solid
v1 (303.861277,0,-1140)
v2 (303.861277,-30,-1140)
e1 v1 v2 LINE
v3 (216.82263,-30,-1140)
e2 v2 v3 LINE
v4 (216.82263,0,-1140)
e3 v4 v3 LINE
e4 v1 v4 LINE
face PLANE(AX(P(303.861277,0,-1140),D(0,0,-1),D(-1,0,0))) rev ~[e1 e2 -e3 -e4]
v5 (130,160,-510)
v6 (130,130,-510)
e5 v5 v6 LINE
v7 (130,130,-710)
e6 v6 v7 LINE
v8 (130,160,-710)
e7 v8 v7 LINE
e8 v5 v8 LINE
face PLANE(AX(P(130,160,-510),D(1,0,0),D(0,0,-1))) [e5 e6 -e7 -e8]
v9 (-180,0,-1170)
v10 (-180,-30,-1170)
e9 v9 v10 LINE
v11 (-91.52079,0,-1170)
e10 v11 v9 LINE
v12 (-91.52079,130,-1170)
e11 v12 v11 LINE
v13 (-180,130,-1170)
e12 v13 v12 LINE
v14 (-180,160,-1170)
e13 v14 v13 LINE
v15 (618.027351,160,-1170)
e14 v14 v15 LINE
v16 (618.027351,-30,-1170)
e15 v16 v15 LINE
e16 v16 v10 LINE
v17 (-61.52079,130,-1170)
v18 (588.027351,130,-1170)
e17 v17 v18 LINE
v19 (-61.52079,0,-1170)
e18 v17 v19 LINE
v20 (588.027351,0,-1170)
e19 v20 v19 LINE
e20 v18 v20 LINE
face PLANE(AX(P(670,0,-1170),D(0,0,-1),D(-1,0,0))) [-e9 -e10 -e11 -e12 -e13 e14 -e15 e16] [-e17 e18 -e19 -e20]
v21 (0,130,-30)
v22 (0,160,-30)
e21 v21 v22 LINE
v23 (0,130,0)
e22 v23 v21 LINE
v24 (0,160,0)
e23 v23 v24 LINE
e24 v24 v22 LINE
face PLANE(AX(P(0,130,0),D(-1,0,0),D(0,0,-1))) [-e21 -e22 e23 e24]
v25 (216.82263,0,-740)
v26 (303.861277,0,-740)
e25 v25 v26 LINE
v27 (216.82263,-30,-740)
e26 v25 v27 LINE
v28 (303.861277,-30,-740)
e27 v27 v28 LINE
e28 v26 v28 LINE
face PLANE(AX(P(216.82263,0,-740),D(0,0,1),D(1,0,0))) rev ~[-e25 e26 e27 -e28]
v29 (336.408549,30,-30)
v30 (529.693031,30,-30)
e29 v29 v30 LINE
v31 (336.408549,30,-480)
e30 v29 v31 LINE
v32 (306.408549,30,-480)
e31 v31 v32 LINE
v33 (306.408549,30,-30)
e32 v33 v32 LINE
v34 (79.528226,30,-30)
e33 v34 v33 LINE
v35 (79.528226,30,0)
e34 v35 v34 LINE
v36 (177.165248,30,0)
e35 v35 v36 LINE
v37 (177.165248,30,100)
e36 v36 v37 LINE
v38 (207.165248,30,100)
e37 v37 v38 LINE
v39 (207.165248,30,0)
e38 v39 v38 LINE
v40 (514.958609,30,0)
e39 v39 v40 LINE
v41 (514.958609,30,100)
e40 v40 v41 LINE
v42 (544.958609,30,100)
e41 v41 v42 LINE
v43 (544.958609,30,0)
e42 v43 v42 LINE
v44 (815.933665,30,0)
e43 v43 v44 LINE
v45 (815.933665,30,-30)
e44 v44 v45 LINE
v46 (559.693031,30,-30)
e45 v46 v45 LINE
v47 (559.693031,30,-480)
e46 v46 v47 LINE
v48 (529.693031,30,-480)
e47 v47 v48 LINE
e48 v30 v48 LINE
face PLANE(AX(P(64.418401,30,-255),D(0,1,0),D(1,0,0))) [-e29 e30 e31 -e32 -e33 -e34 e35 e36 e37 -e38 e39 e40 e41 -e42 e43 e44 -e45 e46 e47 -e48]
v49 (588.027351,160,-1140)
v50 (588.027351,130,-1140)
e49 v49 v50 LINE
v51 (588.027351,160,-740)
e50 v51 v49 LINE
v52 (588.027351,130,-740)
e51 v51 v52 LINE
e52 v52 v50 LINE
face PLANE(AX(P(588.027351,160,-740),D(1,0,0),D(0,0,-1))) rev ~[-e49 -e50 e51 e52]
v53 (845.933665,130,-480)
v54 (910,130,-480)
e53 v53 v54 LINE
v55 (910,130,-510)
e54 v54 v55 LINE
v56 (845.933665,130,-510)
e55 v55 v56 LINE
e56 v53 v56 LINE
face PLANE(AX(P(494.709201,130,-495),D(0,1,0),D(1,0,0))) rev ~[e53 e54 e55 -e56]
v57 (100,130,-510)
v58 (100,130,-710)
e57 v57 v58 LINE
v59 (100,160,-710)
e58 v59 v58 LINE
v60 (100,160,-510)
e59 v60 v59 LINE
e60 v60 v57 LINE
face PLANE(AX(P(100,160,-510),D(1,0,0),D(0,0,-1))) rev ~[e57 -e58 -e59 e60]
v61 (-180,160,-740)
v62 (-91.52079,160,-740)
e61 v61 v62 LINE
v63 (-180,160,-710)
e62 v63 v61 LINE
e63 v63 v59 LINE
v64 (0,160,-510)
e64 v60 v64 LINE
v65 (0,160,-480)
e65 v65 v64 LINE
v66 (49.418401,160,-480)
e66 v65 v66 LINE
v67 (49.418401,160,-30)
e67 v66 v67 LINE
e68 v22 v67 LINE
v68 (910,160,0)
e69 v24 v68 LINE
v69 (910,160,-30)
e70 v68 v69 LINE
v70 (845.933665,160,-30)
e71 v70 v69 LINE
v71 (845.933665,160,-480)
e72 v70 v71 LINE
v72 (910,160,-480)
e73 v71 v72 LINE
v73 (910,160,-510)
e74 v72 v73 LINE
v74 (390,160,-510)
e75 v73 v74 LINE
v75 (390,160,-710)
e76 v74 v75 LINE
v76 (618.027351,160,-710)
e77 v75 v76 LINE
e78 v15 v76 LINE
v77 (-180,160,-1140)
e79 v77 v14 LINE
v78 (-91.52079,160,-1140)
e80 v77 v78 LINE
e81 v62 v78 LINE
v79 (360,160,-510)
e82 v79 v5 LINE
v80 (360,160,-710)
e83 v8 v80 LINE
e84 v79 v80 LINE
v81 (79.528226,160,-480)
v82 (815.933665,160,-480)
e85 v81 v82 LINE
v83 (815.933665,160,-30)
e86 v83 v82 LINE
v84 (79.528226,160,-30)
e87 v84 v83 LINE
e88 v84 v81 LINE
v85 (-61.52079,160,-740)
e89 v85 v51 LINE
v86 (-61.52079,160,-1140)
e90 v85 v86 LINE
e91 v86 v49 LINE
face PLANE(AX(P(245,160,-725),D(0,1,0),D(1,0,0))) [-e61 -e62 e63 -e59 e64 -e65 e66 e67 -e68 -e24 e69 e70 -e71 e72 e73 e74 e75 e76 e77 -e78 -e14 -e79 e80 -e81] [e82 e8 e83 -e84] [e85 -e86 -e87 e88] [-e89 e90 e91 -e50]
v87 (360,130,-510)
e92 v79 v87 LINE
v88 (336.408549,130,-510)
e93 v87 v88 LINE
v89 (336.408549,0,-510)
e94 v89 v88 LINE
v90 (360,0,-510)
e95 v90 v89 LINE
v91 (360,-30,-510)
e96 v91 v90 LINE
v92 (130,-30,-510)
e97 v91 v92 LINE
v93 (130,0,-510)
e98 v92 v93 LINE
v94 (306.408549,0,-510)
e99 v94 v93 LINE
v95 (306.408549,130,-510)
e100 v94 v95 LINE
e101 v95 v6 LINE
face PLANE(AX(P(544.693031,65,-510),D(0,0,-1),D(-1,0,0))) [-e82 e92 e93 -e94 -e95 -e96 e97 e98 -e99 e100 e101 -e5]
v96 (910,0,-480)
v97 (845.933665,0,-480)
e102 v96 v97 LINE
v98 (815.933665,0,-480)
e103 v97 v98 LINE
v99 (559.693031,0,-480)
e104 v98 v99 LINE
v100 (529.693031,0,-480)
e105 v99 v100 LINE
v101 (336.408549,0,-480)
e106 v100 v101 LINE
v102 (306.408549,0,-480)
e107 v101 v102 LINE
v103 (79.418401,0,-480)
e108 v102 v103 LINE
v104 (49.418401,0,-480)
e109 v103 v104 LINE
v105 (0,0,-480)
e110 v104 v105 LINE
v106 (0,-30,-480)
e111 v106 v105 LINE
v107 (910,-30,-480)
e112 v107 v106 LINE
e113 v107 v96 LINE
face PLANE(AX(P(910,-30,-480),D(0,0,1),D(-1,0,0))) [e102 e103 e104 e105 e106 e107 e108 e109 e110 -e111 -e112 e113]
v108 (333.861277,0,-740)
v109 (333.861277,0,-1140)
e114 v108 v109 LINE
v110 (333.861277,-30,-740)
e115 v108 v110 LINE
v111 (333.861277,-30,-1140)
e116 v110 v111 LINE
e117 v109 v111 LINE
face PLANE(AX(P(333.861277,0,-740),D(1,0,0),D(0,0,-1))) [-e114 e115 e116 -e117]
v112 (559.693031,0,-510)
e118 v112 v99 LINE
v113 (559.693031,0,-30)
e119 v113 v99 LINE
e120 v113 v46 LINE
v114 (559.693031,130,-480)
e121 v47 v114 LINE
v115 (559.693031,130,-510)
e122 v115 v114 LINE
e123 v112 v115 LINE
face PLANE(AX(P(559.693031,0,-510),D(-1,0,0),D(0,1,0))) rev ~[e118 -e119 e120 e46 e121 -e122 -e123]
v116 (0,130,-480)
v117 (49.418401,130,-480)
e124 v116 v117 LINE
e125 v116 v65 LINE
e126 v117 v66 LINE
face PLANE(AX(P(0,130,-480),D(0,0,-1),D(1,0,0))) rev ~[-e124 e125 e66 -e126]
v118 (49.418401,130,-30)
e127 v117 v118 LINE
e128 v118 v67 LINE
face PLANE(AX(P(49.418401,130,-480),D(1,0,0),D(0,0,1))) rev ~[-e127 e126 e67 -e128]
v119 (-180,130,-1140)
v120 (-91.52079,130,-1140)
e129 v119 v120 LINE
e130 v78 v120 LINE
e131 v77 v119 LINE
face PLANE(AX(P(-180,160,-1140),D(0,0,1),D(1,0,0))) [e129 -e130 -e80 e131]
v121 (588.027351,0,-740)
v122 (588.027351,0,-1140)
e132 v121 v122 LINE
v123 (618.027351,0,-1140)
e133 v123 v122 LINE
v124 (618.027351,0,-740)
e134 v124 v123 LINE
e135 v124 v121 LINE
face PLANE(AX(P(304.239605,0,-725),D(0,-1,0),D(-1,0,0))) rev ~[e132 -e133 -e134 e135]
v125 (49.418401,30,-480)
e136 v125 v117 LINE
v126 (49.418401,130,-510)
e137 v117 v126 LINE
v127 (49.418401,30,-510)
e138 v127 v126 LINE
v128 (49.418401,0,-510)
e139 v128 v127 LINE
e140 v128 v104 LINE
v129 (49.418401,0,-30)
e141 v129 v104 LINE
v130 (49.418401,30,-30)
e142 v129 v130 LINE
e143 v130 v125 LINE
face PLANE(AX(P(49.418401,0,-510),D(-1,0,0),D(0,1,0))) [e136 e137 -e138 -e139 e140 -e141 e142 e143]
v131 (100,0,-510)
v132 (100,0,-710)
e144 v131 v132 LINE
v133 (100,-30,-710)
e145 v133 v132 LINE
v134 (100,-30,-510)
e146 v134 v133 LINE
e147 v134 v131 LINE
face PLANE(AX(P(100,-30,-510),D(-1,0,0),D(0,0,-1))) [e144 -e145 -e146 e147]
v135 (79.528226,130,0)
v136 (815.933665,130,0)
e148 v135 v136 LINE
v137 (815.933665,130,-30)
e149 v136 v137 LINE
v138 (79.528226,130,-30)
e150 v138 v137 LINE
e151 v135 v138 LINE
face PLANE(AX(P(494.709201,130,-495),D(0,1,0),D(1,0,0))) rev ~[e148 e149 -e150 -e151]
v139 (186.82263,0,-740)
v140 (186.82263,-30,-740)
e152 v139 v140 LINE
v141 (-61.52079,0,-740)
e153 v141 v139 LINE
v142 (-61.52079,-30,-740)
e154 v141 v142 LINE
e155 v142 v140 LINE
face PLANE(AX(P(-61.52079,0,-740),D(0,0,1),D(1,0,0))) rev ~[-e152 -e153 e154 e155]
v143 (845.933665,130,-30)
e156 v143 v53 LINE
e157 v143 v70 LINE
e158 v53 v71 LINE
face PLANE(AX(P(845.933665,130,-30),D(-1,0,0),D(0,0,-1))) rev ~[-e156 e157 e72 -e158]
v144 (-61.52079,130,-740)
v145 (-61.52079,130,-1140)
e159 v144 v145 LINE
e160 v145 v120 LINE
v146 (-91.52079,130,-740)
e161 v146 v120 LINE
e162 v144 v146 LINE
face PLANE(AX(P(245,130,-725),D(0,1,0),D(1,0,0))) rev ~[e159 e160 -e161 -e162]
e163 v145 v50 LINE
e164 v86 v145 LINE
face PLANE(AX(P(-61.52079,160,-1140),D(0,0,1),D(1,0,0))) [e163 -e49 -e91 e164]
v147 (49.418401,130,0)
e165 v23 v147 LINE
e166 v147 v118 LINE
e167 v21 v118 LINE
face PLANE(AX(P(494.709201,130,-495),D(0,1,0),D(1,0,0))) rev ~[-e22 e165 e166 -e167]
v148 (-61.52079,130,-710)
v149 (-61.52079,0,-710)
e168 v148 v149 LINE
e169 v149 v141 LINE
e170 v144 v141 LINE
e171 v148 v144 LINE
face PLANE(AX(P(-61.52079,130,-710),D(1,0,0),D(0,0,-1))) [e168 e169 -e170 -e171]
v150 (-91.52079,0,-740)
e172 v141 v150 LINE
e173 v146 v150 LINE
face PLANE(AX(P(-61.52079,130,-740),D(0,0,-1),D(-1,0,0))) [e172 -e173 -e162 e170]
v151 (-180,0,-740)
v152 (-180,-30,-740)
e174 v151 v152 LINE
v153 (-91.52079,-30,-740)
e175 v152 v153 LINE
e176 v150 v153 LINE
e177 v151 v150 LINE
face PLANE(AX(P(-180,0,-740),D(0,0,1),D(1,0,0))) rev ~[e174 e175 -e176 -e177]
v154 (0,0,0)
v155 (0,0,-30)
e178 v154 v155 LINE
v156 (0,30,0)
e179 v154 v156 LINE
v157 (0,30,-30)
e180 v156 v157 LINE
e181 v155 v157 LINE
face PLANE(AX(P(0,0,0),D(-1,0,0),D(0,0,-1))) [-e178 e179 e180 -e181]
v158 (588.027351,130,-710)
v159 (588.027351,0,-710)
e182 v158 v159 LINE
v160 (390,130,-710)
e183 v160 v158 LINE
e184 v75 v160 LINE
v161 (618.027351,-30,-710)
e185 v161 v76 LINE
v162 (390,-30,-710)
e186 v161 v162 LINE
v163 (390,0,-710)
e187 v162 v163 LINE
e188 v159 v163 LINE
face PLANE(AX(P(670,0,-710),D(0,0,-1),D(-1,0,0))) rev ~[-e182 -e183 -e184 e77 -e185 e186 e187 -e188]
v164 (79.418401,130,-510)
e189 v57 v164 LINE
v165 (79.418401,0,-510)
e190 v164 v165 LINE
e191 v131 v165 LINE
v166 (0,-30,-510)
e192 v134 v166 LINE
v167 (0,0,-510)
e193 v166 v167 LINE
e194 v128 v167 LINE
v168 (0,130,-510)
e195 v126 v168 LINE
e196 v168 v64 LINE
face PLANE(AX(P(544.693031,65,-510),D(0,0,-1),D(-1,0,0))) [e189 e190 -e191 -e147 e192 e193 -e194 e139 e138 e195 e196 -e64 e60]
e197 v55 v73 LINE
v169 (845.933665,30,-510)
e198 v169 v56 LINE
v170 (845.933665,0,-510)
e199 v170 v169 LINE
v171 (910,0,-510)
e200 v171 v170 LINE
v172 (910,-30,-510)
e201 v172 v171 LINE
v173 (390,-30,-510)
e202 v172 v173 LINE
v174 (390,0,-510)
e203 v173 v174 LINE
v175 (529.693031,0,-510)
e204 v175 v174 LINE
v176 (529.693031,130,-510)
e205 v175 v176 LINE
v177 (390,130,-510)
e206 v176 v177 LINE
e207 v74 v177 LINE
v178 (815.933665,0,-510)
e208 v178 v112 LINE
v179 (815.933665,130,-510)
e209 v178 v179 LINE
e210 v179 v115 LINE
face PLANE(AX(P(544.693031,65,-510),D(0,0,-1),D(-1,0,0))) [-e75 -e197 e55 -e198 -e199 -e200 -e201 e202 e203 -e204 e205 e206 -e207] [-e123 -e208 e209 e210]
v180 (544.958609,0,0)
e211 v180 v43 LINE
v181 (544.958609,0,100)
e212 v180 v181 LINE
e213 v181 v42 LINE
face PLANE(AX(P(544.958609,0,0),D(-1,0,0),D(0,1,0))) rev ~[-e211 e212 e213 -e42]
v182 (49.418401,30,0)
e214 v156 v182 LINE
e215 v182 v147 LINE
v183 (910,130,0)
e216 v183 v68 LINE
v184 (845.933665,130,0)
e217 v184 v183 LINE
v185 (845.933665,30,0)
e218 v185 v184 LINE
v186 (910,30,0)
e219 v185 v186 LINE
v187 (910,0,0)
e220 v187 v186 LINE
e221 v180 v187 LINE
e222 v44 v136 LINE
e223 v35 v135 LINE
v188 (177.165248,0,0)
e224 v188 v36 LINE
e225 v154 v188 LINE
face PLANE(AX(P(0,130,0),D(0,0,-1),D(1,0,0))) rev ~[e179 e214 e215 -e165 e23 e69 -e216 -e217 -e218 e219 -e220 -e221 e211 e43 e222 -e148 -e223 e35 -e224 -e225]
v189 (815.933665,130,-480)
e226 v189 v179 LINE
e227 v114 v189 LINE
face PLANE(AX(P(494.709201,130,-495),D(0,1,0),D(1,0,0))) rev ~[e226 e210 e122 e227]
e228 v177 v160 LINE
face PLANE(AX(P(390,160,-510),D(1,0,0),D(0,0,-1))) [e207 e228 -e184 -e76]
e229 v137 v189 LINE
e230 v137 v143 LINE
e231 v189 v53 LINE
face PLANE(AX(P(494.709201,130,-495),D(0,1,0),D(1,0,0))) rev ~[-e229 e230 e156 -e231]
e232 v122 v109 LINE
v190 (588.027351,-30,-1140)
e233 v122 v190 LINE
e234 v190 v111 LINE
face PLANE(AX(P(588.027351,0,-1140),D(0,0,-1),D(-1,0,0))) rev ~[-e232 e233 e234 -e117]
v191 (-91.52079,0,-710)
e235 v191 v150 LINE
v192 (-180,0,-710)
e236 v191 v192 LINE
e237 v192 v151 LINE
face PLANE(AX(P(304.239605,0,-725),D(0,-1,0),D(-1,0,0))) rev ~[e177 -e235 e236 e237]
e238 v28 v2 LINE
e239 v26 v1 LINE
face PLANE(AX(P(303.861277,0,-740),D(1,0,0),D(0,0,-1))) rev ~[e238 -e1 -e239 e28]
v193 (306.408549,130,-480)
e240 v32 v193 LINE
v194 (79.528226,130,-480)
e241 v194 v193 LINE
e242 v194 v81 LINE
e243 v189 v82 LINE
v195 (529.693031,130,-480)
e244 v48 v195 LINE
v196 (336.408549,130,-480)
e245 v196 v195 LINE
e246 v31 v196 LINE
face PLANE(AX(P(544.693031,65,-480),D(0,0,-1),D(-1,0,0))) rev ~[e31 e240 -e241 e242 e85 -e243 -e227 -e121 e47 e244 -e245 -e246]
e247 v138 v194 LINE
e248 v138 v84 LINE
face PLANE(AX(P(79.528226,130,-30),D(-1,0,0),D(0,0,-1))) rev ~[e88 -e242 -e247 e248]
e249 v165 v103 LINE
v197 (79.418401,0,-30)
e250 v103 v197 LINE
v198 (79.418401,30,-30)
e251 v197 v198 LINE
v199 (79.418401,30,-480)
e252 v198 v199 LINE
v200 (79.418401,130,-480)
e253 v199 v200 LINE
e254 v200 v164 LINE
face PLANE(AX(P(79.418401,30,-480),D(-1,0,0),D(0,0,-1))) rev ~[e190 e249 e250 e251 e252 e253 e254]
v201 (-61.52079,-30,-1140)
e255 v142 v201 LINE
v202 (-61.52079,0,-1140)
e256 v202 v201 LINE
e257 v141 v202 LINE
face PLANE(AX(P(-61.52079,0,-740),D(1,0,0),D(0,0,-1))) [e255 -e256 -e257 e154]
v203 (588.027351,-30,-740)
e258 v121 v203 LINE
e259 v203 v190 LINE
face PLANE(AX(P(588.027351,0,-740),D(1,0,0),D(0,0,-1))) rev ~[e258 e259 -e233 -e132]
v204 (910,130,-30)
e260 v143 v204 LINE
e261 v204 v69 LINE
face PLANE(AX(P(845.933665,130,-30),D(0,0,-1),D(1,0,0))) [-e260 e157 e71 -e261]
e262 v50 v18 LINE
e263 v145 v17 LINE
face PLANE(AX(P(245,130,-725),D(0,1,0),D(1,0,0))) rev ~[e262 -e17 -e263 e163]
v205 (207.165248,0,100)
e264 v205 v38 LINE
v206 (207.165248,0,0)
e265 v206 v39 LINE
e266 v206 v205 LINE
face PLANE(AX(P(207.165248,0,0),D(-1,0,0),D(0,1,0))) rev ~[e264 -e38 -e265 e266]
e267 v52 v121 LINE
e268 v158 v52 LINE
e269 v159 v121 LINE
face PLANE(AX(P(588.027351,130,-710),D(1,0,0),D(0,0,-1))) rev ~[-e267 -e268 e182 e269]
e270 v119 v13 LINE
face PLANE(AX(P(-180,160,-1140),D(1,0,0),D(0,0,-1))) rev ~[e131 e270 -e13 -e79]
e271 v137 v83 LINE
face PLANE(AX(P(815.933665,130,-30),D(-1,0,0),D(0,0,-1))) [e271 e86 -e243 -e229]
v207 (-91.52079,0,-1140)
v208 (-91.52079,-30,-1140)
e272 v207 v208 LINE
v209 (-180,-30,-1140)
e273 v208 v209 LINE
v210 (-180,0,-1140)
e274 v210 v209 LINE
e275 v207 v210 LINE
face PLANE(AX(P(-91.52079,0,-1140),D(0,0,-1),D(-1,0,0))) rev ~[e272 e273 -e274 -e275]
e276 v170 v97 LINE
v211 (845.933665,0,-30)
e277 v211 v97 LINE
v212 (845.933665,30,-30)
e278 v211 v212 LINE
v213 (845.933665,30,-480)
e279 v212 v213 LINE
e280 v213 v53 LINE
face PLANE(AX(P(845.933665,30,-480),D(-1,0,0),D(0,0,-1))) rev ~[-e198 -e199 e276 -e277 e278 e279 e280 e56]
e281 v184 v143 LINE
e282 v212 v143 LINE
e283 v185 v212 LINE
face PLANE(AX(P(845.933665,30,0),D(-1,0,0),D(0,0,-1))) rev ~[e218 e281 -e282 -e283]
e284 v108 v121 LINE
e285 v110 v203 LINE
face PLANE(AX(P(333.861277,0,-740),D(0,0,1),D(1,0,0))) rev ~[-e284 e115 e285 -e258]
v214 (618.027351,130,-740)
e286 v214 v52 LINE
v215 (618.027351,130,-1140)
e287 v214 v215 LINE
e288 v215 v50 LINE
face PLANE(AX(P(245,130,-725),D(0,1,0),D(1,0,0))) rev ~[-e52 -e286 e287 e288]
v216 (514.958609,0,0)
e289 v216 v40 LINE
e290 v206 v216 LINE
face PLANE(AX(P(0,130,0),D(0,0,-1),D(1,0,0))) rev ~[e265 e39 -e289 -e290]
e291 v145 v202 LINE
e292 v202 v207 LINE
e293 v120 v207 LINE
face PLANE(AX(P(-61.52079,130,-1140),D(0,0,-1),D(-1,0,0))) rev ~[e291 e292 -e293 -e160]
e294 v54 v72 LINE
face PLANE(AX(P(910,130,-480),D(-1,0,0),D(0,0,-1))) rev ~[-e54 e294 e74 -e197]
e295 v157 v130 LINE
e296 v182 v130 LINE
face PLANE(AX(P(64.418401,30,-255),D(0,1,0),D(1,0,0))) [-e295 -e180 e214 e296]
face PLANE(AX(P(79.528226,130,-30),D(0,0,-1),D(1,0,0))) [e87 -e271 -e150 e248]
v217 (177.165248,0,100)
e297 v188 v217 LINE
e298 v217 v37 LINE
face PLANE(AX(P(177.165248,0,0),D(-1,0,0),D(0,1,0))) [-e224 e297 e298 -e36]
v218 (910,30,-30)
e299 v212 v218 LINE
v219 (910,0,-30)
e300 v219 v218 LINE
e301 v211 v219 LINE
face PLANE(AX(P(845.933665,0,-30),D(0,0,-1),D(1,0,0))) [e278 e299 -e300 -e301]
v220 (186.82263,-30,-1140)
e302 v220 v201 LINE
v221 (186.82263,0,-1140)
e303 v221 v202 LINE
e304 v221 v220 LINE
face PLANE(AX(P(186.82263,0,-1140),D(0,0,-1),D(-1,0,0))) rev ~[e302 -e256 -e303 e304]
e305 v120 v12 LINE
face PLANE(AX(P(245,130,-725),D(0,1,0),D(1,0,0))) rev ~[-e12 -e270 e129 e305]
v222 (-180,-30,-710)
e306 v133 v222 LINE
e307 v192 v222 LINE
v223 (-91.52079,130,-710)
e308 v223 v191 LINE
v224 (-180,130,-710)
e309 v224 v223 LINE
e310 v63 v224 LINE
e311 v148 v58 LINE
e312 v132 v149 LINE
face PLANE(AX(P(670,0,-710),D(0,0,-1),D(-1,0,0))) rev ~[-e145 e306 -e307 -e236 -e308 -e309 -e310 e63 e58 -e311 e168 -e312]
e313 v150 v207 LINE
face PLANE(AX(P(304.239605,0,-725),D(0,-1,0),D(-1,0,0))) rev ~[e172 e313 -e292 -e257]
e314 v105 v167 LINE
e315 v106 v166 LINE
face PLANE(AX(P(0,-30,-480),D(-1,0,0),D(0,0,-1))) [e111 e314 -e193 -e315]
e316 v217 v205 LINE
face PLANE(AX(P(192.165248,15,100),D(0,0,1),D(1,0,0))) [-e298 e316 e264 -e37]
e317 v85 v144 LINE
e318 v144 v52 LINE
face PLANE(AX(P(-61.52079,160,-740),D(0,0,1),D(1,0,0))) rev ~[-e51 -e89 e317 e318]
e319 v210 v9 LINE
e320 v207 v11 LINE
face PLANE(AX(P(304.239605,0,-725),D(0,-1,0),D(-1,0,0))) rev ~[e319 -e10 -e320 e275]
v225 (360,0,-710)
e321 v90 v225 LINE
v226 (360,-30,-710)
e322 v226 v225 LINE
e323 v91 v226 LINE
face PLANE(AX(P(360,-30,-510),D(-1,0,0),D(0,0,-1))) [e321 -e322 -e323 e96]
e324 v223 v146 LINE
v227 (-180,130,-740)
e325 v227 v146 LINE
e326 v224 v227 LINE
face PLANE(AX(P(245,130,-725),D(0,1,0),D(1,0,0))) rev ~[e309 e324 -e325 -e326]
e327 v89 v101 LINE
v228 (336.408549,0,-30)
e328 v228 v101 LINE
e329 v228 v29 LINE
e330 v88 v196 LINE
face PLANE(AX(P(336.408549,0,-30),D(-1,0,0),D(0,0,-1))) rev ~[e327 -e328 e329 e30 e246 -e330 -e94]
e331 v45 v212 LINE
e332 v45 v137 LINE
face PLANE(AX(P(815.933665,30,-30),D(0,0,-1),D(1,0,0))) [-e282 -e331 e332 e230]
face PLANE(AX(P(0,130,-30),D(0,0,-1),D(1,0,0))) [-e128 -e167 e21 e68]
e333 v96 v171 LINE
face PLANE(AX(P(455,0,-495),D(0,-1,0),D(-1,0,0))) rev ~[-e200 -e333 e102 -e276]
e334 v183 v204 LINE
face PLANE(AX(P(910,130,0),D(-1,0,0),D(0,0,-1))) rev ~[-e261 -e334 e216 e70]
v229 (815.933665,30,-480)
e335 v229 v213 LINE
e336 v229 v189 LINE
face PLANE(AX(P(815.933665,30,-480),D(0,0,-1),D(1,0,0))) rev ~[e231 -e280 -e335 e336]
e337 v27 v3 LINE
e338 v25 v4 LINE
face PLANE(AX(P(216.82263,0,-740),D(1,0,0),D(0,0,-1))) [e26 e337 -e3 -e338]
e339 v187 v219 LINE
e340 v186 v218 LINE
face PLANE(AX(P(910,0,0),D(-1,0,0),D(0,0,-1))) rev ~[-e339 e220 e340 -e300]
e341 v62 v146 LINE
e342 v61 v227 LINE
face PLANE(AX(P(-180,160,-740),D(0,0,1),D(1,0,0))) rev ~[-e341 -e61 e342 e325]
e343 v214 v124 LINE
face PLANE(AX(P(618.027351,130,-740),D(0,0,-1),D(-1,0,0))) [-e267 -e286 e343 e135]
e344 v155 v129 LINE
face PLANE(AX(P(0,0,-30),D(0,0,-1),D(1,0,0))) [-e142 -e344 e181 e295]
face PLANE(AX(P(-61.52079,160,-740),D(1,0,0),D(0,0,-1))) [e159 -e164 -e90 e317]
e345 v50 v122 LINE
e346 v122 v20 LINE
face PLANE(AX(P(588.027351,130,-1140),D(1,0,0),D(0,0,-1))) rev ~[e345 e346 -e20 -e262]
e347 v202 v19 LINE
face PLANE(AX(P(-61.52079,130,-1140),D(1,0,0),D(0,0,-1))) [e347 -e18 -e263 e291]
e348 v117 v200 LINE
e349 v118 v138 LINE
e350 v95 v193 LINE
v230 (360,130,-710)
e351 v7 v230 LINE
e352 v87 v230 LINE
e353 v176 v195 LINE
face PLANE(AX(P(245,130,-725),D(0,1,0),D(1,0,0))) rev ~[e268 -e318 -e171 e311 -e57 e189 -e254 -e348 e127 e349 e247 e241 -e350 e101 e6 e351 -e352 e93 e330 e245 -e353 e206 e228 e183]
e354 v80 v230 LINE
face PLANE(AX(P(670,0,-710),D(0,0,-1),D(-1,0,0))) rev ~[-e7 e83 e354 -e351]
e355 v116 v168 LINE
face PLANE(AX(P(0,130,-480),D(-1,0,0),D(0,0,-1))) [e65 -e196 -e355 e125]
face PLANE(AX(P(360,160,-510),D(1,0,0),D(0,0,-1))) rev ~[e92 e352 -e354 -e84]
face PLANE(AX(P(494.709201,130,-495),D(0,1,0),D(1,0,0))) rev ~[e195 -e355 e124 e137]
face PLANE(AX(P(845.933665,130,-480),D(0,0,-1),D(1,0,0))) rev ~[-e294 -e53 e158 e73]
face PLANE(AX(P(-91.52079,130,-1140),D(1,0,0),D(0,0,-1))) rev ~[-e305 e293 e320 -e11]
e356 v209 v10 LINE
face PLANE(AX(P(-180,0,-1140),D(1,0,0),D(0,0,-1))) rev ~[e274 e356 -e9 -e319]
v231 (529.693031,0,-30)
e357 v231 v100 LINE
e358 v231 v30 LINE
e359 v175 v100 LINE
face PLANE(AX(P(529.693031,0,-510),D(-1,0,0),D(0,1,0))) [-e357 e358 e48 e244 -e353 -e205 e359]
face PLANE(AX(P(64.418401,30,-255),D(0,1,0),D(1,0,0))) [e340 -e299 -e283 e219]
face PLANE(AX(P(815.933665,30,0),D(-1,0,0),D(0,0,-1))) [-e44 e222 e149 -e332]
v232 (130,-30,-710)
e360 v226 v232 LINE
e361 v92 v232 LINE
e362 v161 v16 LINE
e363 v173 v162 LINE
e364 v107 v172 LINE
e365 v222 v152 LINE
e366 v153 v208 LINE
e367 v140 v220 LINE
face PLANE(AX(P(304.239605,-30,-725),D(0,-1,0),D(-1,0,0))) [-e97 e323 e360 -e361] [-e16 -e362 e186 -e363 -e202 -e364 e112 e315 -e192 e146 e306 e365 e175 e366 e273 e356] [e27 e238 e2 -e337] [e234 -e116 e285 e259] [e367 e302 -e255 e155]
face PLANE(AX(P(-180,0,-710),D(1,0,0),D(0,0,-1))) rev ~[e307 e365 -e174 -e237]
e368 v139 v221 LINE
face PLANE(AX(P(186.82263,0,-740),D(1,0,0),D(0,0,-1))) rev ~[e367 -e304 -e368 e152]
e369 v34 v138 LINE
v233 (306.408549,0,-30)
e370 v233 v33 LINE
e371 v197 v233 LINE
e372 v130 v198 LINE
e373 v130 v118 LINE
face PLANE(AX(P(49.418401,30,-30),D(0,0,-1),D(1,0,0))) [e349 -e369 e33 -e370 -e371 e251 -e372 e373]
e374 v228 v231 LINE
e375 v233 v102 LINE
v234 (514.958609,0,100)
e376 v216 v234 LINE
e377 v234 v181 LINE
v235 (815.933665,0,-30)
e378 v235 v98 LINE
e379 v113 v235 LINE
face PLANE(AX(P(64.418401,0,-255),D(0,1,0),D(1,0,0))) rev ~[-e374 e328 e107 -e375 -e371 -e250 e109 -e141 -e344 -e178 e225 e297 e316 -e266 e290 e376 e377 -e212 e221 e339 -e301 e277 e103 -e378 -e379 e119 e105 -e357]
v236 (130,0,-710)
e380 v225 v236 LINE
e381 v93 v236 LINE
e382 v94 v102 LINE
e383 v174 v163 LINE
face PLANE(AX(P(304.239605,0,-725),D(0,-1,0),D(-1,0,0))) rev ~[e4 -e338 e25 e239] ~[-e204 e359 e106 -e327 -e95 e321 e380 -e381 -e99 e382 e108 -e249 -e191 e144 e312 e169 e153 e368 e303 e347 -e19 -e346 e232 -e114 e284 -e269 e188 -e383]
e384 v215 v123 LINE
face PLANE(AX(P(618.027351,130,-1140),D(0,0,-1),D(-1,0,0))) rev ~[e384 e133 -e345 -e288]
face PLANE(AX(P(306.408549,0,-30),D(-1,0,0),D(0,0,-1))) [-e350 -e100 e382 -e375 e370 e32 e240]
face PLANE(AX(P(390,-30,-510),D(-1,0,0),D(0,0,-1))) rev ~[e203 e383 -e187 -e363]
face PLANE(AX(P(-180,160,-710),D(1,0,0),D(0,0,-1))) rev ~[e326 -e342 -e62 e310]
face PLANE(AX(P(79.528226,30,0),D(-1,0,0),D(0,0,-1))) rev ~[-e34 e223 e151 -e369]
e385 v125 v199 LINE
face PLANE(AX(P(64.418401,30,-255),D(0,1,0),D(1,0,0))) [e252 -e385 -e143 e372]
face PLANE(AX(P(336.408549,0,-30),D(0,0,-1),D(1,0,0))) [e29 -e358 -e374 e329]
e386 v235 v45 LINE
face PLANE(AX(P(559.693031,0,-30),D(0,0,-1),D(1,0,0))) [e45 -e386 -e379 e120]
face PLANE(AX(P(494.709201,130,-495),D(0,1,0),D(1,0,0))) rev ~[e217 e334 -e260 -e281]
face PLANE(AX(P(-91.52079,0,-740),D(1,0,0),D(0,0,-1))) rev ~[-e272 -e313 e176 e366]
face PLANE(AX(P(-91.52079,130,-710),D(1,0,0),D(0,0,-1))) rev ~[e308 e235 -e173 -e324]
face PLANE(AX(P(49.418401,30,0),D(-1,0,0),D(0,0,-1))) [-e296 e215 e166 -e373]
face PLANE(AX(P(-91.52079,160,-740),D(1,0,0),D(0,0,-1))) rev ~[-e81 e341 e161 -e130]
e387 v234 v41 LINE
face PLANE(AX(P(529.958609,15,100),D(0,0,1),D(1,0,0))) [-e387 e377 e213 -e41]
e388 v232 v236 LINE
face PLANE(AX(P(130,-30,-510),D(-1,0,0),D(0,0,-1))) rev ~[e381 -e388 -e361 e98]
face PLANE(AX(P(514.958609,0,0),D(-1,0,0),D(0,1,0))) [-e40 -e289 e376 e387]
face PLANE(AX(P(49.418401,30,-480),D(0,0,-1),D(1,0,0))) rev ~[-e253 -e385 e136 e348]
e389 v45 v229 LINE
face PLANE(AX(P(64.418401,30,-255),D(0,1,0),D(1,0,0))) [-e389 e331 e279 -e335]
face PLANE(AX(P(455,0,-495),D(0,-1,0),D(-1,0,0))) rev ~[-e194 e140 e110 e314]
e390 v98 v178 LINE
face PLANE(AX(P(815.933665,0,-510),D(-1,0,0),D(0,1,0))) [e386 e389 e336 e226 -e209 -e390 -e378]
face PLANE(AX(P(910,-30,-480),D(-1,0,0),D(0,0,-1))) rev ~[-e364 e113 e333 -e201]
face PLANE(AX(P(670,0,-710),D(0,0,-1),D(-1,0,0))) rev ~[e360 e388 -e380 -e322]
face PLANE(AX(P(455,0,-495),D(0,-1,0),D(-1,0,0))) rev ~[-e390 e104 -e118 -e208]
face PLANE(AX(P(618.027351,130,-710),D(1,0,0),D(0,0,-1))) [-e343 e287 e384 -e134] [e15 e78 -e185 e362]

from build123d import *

# Parameters (mm, degrees)
SKETCH_1_W          = 30
SKETCH_1_H          = 450
SKETCH_1_W_2        = 910
SKETCH_1_H_2        = 30
EXTRUDE_1_DEPTH     = 30
SKETCH_2_W          = 30.109824799
SKETCH_2_H          = 30
SKETCH_2_W_2        = 30
EXTRUDE_2_DEPTH     = 100
SKETCH_3_W          = 49.418401049
SKETCH_3_H          = 30
SKETCH_3_W_2        = 30
SKETCH_3_W_3        = 910
SKETCH_3_H_2        = 450
EXTRUDE_3_DEPTH     = 30
SKETCH_4_W          = 850
SKETCH_4_H          = 30
SKETCH_4_W_2        = 30
SKETCH_4_H_2        = 400
EXTRUDE_4_DEPTH     = 30
SKETCH_5_W          = 30
SKETCH_5_H          = 30
EXTRUDE_5_DEPTH     = 130
SKETCH_6_W          = 88.479210194
SKETCH_6_H          = 30
SKETCH_6_W_2        = 30
SKETCH_6_H_2        = 400
SKETCH_6_W_3        = 850
EXTRUDE_6_DEPTH     = 30
SKETCH_8_W          = 736.515263892
SKETCH_8_H          = 30
SKETCH_8_W_2        = 64.066335059
SKETCH_8_W_3        = 49.418401049
CUT_EXTRUDE_2_DEPTH = 30
SKETCH_9_W          = 910
SKETCH_9_H          = 30
EXTRUDE_7_DEPTH     = 30
SKETCH_12_W         = 30
SKETCH_12_H         = 130
EXTRUDE_8_DEPTH     = 30
SKETCH_13_W         = 30
SKETCH_13_H         = 200
EXTRUDE_9_DEPTH     = 30
SKETCH_14_W         = 30
SKETCH_14_H         = 200
EXTRUDE_10_DEPTH    = 30
SKETCH_15_W         = 489.531957018
SKETCH_15_H         = 254.722560686
CUT_EXTRUDE_3_DEPTH = 51.972649134
SKETCH_16_W         = 30
SKETCH_16_H         = 30
EXTRUDE_11_DEPTH    = 100


with BuildPart() as part:
    # 草图1 → 凸台-拉伸1 (new body)
    with BuildSketch(Plane(origin=(0, 0, 0), x_dir=(1, 0, 0), z_dir=(0, 1, 0))):
        with Locations((64.418401049, 255)):
            Rectangle(SKETCH_1_W, SKETCH_1_H)
        with Locations((455, 15)):
            Rectangle(SKETCH_1_W_2, SKETCH_1_H_2)
        with Locations((321.408548695, 255)):
            Rectangle(SKETCH_1_W, SKETCH_1_H)
        with Locations((544.693031268, 255)):
            Rectangle(SKETCH_1_W, SKETCH_1_H)
        with Locations((830.933664941, 255)):
            Rectangle(SKETCH_1_W, SKETCH_1_H)
        Polygon((0, 480), (49.418401049, 480), (79.418401049, 480), (306.408548695, 480), (336.408548695, 480), (529.693031268, 480), (559.693031268, 480), (815.933664941, 480), (845.933664941, 480), (910, 480), (910, 510), (0, 510), align=None)
    extrude(amount=EXTRUDE_1_DEPTH)

    # 草图2 → 凸台-拉伸2 (add)
    with BuildSketch(Plane(origin=(0, 30, 0), x_dir=(1, 0, 0), z_dir=(0, 1, 0))):
        with Locations((64.473313449, 15)):
            Rectangle(SKETCH_2_W, SKETCH_2_H)
        with Locations((830.933664941, 15)):
            Rectangle(SKETCH_2_W_2, SKETCH_2_H)
        with Locations((64.418401049, 495)):
            Rectangle(SKETCH_2_W_2, SKETCH_2_H)
        with Locations((830.933664941, 495)):
            Rectangle(SKETCH_2_W_2, SKETCH_2_H)
    extrude(amount=EXTRUDE_2_DEPTH)

    # 草图3 → 凸台-拉伸3 (add)
    with BuildSketch(Plane(origin=(0, 130, 0), x_dir=(1, 0, 0), z_dir=(0, 1, 0))):
        Polygon((910, 510), (79.418401049, 510), (79.418401049, 480), (79.528225848, 480), (815.933664941, 480), (845.933664941, 480), (910, 480), align=None)
        with Locations((24.709200525, 495)):
            Rectangle(SKETCH_3_W, SKETCH_3_H)
        with Locations((64.418401049, 495)):
            Rectangle(SKETCH_3_W_2, SKETCH_3_H)
        with Locations((455, 15)):
            Rectangle(SKETCH_3_W_3, SKETCH_3_H)
        Polygon((79.418401049, 480), (49.418401049, 480), (49.418401049, 30), (79.528225848, 30), (79.528225848, 480), align=None)
        with Locations((830.933664941, 255)):
            Rectangle(SKETCH_3_W_2, SKETCH_3_H_2)
    extrude(amount=EXTRUDE_3_DEPTH)

    # 草图8 → 切除-拉伸2 (cut)
    with BuildSketch(Plane(origin=(0, 0, -510), x_dir=(-1, 0, 0), z_dir=(0, 0, -1))):
        with Locations((-447.676032995, 15)):
            Rectangle(SKETCH_8_W, SKETCH_8_H)
        with Locations((-877.966832471, 15)):
            Rectangle(SKETCH_8_W_2, SKETCH_8_H)
        with Locations((-24.709200525, 15)):
            Rectangle(SKETCH_8_W_3, SKETCH_8_H)
    extrude(amount=-CUT_EXTRUDE_2_DEPTH, mode=Mode.SUBTRACT)



with BuildPart() as body_2:
    # 草图4 → 凸台-拉伸4 (new body)
    with BuildSketch(Plane(origin=(0, 160, 0), x_dir=(1, 0, 0), z_dir=(0, 1, 0))):
        with Locations((245, 725)):
            Rectangle(SKETCH_4_W, SKETCH_4_H)
        with Locations((245, 1155)):
            Rectangle(SKETCH_4_W, SKETCH_4_H)
        with Locations((-76.520789806, 940)):
            Rectangle(SKETCH_4_W_2, SKETCH_4_H_2)
        with Locations((603.027350866, 940)):
            Rectangle(SKETCH_4_W_2, SKETCH_4_H_2)
    extrude(amount=-EXTRUDE_4_DEPTH)

    # 草图5 → 凸台-拉伸5 (add)
    with BuildSketch(Plane(origin=(0, 130, 0), x_dir=(-1, 0, 0), z_dir=(0, -1, 0))):
        with Locations((76.520789806, 725)):
            Rectangle(SKETCH_5_W, SKETCH_5_H)
        with Locations((-603.027350866, 725)):
            Rectangle(SKETCH_5_W, SKETCH_5_H)
        with Locations((-603.027350866, 1155)):
            Rectangle(SKETCH_5_W, SKETCH_5_H)
        with Locations((76.520789806, 1155)):
            Rectangle(SKETCH_5_W, SKETCH_5_H)
    extrude(amount=EXTRUDE_5_DEPTH)

    # 草图6 → 凸台-拉伸6 (add)
    with BuildSketch(Plane(origin=(0, 0, 0), x_dir=(-1, 0, 0), z_dir=(0, -1, 0))):
        Polygon((-670, 710), (61.520789806, 710), (61.520789806, 740), (-186.822629959, 740), (-216.822629959, 740), (-303.86127731, 740), (-333.86127731, 740), (-588.027350866, 740), (-618.027350866, 740), (-670, 740), align=None)
        with Locations((135.760394903, 725)):
            Rectangle(SKETCH_6_W, SKETCH_6_H)
        with Locations((76.520789806, 725)):
            Rectangle(SKETCH_6_W_2, SKETCH_6_H)
        with Locations((76.520789806, 940)):
            Rectangle(SKETCH_6_W_2, SKETCH_6_H_2)
        with Locations((-201.822629959, 940)):
            Rectangle(SKETCH_6_W_2, SKETCH_6_H_2)
        with Locations((-318.86127731, 940)):
            Rectangle(SKETCH_6_W_2, SKETCH_6_H_2)
        with Locations((-603.027350866, 940)):
            Rectangle(SKETCH_6_W_2, SKETCH_6_H_2)
        with Locations((-245, 1155)):
            Rectangle(SKETCH_6_W_3, SKETCH_6_H)
    extrude(amount=EXTRUDE_6_DEPTH)


with BuildPart() as body_3:
    # 草图9 → 凸台-拉伸7 (new body)
    with BuildSketch(Plane(origin=(0, -30, 0), x_dir=(-1, 0, 0), z_dir=(0, -1, 0))):
        with Locations((-455, 495)):
            Rectangle(SKETCH_9_W, SKETCH_9_H)
    extrude(amount=-EXTRUDE_7_DEPTH)


with BuildPart() as part_1:
    add(part.part)

    add(body_3.part)  # 凸台-拉伸8 merges body 3
    # 草图12 → 凸台-拉伸8 (add)
    with BuildSketch(Plane(origin=(0, 0, -510), x_dir=(-1, 0, 0), z_dir=(0, 0, -1))):
        with Locations((-544.693031268, 65)):
            Rectangle(SKETCH_12_W, SKETCH_12_H)
        with Locations((-321.408548695, 65)):
            Rectangle(SKETCH_12_W, SKETCH_12_H)
    extrude(amount=-EXTRUDE_8_DEPTH)


    add(body_2.part)  # 凸台-拉伸9 merges body 2
    # 草图13 → 凸台-拉伸9 (add)
    with BuildSketch(Plane(origin=(0, -30, 0), x_dir=(-1, 0, 0), z_dir=(0, -1, 0))):
        with Locations((-115, 610)):
            Rectangle(SKETCH_13_W, SKETCH_13_H)
        with Locations((-375, 610)):
            Rectangle(SKETCH_13_W, SKETCH_13_H)
    extrude(amount=-EXTRUDE_9_DEPTH)

    # 草图14 → 凸台-拉伸10 (add)
    with BuildSketch(Plane(origin=(0, 160, 0), x_dir=(1, 0, 0), z_dir=(0, 1, 0))):
        with Locations((115, 610)):
            Rectangle(SKETCH_14_W, SKETCH_14_H)
        with Locations((375, 610)):
            Rectangle(SKETCH_14_W, SKETCH_14_H)
    extrude(amount=-EXTRUDE_10_DEPTH)

    # 草图15 → 切除-拉伸3 (cut)
    with BuildSketch(Plane(origin=(670, 0, 0), x_dir=(0, 0, -1), z_dir=(1, 0, 0))):
        with Locations((948.415249447, 56.198014116)):
            Rectangle(SKETCH_15_W, SKETCH_15_H)
    extrude(amount=-CUT_EXTRUDE_3_DEPTH, mode=Mode.SUBTRACT)

    # 草图16 → 凸台-拉伸11 (add)
    with BuildSketch(Plane.XY):
        with Locations((192.165247783, 15)):
            Rectangle(SKETCH_16_W, SKETCH_16_H)
        with Locations((529.958608766, 15)):
            Rectangle(SKETCH_16_W, SKETCH_16_H)
    extrude(amount=EXTRUDE_11_DEPTH)


solid = part_1.part
